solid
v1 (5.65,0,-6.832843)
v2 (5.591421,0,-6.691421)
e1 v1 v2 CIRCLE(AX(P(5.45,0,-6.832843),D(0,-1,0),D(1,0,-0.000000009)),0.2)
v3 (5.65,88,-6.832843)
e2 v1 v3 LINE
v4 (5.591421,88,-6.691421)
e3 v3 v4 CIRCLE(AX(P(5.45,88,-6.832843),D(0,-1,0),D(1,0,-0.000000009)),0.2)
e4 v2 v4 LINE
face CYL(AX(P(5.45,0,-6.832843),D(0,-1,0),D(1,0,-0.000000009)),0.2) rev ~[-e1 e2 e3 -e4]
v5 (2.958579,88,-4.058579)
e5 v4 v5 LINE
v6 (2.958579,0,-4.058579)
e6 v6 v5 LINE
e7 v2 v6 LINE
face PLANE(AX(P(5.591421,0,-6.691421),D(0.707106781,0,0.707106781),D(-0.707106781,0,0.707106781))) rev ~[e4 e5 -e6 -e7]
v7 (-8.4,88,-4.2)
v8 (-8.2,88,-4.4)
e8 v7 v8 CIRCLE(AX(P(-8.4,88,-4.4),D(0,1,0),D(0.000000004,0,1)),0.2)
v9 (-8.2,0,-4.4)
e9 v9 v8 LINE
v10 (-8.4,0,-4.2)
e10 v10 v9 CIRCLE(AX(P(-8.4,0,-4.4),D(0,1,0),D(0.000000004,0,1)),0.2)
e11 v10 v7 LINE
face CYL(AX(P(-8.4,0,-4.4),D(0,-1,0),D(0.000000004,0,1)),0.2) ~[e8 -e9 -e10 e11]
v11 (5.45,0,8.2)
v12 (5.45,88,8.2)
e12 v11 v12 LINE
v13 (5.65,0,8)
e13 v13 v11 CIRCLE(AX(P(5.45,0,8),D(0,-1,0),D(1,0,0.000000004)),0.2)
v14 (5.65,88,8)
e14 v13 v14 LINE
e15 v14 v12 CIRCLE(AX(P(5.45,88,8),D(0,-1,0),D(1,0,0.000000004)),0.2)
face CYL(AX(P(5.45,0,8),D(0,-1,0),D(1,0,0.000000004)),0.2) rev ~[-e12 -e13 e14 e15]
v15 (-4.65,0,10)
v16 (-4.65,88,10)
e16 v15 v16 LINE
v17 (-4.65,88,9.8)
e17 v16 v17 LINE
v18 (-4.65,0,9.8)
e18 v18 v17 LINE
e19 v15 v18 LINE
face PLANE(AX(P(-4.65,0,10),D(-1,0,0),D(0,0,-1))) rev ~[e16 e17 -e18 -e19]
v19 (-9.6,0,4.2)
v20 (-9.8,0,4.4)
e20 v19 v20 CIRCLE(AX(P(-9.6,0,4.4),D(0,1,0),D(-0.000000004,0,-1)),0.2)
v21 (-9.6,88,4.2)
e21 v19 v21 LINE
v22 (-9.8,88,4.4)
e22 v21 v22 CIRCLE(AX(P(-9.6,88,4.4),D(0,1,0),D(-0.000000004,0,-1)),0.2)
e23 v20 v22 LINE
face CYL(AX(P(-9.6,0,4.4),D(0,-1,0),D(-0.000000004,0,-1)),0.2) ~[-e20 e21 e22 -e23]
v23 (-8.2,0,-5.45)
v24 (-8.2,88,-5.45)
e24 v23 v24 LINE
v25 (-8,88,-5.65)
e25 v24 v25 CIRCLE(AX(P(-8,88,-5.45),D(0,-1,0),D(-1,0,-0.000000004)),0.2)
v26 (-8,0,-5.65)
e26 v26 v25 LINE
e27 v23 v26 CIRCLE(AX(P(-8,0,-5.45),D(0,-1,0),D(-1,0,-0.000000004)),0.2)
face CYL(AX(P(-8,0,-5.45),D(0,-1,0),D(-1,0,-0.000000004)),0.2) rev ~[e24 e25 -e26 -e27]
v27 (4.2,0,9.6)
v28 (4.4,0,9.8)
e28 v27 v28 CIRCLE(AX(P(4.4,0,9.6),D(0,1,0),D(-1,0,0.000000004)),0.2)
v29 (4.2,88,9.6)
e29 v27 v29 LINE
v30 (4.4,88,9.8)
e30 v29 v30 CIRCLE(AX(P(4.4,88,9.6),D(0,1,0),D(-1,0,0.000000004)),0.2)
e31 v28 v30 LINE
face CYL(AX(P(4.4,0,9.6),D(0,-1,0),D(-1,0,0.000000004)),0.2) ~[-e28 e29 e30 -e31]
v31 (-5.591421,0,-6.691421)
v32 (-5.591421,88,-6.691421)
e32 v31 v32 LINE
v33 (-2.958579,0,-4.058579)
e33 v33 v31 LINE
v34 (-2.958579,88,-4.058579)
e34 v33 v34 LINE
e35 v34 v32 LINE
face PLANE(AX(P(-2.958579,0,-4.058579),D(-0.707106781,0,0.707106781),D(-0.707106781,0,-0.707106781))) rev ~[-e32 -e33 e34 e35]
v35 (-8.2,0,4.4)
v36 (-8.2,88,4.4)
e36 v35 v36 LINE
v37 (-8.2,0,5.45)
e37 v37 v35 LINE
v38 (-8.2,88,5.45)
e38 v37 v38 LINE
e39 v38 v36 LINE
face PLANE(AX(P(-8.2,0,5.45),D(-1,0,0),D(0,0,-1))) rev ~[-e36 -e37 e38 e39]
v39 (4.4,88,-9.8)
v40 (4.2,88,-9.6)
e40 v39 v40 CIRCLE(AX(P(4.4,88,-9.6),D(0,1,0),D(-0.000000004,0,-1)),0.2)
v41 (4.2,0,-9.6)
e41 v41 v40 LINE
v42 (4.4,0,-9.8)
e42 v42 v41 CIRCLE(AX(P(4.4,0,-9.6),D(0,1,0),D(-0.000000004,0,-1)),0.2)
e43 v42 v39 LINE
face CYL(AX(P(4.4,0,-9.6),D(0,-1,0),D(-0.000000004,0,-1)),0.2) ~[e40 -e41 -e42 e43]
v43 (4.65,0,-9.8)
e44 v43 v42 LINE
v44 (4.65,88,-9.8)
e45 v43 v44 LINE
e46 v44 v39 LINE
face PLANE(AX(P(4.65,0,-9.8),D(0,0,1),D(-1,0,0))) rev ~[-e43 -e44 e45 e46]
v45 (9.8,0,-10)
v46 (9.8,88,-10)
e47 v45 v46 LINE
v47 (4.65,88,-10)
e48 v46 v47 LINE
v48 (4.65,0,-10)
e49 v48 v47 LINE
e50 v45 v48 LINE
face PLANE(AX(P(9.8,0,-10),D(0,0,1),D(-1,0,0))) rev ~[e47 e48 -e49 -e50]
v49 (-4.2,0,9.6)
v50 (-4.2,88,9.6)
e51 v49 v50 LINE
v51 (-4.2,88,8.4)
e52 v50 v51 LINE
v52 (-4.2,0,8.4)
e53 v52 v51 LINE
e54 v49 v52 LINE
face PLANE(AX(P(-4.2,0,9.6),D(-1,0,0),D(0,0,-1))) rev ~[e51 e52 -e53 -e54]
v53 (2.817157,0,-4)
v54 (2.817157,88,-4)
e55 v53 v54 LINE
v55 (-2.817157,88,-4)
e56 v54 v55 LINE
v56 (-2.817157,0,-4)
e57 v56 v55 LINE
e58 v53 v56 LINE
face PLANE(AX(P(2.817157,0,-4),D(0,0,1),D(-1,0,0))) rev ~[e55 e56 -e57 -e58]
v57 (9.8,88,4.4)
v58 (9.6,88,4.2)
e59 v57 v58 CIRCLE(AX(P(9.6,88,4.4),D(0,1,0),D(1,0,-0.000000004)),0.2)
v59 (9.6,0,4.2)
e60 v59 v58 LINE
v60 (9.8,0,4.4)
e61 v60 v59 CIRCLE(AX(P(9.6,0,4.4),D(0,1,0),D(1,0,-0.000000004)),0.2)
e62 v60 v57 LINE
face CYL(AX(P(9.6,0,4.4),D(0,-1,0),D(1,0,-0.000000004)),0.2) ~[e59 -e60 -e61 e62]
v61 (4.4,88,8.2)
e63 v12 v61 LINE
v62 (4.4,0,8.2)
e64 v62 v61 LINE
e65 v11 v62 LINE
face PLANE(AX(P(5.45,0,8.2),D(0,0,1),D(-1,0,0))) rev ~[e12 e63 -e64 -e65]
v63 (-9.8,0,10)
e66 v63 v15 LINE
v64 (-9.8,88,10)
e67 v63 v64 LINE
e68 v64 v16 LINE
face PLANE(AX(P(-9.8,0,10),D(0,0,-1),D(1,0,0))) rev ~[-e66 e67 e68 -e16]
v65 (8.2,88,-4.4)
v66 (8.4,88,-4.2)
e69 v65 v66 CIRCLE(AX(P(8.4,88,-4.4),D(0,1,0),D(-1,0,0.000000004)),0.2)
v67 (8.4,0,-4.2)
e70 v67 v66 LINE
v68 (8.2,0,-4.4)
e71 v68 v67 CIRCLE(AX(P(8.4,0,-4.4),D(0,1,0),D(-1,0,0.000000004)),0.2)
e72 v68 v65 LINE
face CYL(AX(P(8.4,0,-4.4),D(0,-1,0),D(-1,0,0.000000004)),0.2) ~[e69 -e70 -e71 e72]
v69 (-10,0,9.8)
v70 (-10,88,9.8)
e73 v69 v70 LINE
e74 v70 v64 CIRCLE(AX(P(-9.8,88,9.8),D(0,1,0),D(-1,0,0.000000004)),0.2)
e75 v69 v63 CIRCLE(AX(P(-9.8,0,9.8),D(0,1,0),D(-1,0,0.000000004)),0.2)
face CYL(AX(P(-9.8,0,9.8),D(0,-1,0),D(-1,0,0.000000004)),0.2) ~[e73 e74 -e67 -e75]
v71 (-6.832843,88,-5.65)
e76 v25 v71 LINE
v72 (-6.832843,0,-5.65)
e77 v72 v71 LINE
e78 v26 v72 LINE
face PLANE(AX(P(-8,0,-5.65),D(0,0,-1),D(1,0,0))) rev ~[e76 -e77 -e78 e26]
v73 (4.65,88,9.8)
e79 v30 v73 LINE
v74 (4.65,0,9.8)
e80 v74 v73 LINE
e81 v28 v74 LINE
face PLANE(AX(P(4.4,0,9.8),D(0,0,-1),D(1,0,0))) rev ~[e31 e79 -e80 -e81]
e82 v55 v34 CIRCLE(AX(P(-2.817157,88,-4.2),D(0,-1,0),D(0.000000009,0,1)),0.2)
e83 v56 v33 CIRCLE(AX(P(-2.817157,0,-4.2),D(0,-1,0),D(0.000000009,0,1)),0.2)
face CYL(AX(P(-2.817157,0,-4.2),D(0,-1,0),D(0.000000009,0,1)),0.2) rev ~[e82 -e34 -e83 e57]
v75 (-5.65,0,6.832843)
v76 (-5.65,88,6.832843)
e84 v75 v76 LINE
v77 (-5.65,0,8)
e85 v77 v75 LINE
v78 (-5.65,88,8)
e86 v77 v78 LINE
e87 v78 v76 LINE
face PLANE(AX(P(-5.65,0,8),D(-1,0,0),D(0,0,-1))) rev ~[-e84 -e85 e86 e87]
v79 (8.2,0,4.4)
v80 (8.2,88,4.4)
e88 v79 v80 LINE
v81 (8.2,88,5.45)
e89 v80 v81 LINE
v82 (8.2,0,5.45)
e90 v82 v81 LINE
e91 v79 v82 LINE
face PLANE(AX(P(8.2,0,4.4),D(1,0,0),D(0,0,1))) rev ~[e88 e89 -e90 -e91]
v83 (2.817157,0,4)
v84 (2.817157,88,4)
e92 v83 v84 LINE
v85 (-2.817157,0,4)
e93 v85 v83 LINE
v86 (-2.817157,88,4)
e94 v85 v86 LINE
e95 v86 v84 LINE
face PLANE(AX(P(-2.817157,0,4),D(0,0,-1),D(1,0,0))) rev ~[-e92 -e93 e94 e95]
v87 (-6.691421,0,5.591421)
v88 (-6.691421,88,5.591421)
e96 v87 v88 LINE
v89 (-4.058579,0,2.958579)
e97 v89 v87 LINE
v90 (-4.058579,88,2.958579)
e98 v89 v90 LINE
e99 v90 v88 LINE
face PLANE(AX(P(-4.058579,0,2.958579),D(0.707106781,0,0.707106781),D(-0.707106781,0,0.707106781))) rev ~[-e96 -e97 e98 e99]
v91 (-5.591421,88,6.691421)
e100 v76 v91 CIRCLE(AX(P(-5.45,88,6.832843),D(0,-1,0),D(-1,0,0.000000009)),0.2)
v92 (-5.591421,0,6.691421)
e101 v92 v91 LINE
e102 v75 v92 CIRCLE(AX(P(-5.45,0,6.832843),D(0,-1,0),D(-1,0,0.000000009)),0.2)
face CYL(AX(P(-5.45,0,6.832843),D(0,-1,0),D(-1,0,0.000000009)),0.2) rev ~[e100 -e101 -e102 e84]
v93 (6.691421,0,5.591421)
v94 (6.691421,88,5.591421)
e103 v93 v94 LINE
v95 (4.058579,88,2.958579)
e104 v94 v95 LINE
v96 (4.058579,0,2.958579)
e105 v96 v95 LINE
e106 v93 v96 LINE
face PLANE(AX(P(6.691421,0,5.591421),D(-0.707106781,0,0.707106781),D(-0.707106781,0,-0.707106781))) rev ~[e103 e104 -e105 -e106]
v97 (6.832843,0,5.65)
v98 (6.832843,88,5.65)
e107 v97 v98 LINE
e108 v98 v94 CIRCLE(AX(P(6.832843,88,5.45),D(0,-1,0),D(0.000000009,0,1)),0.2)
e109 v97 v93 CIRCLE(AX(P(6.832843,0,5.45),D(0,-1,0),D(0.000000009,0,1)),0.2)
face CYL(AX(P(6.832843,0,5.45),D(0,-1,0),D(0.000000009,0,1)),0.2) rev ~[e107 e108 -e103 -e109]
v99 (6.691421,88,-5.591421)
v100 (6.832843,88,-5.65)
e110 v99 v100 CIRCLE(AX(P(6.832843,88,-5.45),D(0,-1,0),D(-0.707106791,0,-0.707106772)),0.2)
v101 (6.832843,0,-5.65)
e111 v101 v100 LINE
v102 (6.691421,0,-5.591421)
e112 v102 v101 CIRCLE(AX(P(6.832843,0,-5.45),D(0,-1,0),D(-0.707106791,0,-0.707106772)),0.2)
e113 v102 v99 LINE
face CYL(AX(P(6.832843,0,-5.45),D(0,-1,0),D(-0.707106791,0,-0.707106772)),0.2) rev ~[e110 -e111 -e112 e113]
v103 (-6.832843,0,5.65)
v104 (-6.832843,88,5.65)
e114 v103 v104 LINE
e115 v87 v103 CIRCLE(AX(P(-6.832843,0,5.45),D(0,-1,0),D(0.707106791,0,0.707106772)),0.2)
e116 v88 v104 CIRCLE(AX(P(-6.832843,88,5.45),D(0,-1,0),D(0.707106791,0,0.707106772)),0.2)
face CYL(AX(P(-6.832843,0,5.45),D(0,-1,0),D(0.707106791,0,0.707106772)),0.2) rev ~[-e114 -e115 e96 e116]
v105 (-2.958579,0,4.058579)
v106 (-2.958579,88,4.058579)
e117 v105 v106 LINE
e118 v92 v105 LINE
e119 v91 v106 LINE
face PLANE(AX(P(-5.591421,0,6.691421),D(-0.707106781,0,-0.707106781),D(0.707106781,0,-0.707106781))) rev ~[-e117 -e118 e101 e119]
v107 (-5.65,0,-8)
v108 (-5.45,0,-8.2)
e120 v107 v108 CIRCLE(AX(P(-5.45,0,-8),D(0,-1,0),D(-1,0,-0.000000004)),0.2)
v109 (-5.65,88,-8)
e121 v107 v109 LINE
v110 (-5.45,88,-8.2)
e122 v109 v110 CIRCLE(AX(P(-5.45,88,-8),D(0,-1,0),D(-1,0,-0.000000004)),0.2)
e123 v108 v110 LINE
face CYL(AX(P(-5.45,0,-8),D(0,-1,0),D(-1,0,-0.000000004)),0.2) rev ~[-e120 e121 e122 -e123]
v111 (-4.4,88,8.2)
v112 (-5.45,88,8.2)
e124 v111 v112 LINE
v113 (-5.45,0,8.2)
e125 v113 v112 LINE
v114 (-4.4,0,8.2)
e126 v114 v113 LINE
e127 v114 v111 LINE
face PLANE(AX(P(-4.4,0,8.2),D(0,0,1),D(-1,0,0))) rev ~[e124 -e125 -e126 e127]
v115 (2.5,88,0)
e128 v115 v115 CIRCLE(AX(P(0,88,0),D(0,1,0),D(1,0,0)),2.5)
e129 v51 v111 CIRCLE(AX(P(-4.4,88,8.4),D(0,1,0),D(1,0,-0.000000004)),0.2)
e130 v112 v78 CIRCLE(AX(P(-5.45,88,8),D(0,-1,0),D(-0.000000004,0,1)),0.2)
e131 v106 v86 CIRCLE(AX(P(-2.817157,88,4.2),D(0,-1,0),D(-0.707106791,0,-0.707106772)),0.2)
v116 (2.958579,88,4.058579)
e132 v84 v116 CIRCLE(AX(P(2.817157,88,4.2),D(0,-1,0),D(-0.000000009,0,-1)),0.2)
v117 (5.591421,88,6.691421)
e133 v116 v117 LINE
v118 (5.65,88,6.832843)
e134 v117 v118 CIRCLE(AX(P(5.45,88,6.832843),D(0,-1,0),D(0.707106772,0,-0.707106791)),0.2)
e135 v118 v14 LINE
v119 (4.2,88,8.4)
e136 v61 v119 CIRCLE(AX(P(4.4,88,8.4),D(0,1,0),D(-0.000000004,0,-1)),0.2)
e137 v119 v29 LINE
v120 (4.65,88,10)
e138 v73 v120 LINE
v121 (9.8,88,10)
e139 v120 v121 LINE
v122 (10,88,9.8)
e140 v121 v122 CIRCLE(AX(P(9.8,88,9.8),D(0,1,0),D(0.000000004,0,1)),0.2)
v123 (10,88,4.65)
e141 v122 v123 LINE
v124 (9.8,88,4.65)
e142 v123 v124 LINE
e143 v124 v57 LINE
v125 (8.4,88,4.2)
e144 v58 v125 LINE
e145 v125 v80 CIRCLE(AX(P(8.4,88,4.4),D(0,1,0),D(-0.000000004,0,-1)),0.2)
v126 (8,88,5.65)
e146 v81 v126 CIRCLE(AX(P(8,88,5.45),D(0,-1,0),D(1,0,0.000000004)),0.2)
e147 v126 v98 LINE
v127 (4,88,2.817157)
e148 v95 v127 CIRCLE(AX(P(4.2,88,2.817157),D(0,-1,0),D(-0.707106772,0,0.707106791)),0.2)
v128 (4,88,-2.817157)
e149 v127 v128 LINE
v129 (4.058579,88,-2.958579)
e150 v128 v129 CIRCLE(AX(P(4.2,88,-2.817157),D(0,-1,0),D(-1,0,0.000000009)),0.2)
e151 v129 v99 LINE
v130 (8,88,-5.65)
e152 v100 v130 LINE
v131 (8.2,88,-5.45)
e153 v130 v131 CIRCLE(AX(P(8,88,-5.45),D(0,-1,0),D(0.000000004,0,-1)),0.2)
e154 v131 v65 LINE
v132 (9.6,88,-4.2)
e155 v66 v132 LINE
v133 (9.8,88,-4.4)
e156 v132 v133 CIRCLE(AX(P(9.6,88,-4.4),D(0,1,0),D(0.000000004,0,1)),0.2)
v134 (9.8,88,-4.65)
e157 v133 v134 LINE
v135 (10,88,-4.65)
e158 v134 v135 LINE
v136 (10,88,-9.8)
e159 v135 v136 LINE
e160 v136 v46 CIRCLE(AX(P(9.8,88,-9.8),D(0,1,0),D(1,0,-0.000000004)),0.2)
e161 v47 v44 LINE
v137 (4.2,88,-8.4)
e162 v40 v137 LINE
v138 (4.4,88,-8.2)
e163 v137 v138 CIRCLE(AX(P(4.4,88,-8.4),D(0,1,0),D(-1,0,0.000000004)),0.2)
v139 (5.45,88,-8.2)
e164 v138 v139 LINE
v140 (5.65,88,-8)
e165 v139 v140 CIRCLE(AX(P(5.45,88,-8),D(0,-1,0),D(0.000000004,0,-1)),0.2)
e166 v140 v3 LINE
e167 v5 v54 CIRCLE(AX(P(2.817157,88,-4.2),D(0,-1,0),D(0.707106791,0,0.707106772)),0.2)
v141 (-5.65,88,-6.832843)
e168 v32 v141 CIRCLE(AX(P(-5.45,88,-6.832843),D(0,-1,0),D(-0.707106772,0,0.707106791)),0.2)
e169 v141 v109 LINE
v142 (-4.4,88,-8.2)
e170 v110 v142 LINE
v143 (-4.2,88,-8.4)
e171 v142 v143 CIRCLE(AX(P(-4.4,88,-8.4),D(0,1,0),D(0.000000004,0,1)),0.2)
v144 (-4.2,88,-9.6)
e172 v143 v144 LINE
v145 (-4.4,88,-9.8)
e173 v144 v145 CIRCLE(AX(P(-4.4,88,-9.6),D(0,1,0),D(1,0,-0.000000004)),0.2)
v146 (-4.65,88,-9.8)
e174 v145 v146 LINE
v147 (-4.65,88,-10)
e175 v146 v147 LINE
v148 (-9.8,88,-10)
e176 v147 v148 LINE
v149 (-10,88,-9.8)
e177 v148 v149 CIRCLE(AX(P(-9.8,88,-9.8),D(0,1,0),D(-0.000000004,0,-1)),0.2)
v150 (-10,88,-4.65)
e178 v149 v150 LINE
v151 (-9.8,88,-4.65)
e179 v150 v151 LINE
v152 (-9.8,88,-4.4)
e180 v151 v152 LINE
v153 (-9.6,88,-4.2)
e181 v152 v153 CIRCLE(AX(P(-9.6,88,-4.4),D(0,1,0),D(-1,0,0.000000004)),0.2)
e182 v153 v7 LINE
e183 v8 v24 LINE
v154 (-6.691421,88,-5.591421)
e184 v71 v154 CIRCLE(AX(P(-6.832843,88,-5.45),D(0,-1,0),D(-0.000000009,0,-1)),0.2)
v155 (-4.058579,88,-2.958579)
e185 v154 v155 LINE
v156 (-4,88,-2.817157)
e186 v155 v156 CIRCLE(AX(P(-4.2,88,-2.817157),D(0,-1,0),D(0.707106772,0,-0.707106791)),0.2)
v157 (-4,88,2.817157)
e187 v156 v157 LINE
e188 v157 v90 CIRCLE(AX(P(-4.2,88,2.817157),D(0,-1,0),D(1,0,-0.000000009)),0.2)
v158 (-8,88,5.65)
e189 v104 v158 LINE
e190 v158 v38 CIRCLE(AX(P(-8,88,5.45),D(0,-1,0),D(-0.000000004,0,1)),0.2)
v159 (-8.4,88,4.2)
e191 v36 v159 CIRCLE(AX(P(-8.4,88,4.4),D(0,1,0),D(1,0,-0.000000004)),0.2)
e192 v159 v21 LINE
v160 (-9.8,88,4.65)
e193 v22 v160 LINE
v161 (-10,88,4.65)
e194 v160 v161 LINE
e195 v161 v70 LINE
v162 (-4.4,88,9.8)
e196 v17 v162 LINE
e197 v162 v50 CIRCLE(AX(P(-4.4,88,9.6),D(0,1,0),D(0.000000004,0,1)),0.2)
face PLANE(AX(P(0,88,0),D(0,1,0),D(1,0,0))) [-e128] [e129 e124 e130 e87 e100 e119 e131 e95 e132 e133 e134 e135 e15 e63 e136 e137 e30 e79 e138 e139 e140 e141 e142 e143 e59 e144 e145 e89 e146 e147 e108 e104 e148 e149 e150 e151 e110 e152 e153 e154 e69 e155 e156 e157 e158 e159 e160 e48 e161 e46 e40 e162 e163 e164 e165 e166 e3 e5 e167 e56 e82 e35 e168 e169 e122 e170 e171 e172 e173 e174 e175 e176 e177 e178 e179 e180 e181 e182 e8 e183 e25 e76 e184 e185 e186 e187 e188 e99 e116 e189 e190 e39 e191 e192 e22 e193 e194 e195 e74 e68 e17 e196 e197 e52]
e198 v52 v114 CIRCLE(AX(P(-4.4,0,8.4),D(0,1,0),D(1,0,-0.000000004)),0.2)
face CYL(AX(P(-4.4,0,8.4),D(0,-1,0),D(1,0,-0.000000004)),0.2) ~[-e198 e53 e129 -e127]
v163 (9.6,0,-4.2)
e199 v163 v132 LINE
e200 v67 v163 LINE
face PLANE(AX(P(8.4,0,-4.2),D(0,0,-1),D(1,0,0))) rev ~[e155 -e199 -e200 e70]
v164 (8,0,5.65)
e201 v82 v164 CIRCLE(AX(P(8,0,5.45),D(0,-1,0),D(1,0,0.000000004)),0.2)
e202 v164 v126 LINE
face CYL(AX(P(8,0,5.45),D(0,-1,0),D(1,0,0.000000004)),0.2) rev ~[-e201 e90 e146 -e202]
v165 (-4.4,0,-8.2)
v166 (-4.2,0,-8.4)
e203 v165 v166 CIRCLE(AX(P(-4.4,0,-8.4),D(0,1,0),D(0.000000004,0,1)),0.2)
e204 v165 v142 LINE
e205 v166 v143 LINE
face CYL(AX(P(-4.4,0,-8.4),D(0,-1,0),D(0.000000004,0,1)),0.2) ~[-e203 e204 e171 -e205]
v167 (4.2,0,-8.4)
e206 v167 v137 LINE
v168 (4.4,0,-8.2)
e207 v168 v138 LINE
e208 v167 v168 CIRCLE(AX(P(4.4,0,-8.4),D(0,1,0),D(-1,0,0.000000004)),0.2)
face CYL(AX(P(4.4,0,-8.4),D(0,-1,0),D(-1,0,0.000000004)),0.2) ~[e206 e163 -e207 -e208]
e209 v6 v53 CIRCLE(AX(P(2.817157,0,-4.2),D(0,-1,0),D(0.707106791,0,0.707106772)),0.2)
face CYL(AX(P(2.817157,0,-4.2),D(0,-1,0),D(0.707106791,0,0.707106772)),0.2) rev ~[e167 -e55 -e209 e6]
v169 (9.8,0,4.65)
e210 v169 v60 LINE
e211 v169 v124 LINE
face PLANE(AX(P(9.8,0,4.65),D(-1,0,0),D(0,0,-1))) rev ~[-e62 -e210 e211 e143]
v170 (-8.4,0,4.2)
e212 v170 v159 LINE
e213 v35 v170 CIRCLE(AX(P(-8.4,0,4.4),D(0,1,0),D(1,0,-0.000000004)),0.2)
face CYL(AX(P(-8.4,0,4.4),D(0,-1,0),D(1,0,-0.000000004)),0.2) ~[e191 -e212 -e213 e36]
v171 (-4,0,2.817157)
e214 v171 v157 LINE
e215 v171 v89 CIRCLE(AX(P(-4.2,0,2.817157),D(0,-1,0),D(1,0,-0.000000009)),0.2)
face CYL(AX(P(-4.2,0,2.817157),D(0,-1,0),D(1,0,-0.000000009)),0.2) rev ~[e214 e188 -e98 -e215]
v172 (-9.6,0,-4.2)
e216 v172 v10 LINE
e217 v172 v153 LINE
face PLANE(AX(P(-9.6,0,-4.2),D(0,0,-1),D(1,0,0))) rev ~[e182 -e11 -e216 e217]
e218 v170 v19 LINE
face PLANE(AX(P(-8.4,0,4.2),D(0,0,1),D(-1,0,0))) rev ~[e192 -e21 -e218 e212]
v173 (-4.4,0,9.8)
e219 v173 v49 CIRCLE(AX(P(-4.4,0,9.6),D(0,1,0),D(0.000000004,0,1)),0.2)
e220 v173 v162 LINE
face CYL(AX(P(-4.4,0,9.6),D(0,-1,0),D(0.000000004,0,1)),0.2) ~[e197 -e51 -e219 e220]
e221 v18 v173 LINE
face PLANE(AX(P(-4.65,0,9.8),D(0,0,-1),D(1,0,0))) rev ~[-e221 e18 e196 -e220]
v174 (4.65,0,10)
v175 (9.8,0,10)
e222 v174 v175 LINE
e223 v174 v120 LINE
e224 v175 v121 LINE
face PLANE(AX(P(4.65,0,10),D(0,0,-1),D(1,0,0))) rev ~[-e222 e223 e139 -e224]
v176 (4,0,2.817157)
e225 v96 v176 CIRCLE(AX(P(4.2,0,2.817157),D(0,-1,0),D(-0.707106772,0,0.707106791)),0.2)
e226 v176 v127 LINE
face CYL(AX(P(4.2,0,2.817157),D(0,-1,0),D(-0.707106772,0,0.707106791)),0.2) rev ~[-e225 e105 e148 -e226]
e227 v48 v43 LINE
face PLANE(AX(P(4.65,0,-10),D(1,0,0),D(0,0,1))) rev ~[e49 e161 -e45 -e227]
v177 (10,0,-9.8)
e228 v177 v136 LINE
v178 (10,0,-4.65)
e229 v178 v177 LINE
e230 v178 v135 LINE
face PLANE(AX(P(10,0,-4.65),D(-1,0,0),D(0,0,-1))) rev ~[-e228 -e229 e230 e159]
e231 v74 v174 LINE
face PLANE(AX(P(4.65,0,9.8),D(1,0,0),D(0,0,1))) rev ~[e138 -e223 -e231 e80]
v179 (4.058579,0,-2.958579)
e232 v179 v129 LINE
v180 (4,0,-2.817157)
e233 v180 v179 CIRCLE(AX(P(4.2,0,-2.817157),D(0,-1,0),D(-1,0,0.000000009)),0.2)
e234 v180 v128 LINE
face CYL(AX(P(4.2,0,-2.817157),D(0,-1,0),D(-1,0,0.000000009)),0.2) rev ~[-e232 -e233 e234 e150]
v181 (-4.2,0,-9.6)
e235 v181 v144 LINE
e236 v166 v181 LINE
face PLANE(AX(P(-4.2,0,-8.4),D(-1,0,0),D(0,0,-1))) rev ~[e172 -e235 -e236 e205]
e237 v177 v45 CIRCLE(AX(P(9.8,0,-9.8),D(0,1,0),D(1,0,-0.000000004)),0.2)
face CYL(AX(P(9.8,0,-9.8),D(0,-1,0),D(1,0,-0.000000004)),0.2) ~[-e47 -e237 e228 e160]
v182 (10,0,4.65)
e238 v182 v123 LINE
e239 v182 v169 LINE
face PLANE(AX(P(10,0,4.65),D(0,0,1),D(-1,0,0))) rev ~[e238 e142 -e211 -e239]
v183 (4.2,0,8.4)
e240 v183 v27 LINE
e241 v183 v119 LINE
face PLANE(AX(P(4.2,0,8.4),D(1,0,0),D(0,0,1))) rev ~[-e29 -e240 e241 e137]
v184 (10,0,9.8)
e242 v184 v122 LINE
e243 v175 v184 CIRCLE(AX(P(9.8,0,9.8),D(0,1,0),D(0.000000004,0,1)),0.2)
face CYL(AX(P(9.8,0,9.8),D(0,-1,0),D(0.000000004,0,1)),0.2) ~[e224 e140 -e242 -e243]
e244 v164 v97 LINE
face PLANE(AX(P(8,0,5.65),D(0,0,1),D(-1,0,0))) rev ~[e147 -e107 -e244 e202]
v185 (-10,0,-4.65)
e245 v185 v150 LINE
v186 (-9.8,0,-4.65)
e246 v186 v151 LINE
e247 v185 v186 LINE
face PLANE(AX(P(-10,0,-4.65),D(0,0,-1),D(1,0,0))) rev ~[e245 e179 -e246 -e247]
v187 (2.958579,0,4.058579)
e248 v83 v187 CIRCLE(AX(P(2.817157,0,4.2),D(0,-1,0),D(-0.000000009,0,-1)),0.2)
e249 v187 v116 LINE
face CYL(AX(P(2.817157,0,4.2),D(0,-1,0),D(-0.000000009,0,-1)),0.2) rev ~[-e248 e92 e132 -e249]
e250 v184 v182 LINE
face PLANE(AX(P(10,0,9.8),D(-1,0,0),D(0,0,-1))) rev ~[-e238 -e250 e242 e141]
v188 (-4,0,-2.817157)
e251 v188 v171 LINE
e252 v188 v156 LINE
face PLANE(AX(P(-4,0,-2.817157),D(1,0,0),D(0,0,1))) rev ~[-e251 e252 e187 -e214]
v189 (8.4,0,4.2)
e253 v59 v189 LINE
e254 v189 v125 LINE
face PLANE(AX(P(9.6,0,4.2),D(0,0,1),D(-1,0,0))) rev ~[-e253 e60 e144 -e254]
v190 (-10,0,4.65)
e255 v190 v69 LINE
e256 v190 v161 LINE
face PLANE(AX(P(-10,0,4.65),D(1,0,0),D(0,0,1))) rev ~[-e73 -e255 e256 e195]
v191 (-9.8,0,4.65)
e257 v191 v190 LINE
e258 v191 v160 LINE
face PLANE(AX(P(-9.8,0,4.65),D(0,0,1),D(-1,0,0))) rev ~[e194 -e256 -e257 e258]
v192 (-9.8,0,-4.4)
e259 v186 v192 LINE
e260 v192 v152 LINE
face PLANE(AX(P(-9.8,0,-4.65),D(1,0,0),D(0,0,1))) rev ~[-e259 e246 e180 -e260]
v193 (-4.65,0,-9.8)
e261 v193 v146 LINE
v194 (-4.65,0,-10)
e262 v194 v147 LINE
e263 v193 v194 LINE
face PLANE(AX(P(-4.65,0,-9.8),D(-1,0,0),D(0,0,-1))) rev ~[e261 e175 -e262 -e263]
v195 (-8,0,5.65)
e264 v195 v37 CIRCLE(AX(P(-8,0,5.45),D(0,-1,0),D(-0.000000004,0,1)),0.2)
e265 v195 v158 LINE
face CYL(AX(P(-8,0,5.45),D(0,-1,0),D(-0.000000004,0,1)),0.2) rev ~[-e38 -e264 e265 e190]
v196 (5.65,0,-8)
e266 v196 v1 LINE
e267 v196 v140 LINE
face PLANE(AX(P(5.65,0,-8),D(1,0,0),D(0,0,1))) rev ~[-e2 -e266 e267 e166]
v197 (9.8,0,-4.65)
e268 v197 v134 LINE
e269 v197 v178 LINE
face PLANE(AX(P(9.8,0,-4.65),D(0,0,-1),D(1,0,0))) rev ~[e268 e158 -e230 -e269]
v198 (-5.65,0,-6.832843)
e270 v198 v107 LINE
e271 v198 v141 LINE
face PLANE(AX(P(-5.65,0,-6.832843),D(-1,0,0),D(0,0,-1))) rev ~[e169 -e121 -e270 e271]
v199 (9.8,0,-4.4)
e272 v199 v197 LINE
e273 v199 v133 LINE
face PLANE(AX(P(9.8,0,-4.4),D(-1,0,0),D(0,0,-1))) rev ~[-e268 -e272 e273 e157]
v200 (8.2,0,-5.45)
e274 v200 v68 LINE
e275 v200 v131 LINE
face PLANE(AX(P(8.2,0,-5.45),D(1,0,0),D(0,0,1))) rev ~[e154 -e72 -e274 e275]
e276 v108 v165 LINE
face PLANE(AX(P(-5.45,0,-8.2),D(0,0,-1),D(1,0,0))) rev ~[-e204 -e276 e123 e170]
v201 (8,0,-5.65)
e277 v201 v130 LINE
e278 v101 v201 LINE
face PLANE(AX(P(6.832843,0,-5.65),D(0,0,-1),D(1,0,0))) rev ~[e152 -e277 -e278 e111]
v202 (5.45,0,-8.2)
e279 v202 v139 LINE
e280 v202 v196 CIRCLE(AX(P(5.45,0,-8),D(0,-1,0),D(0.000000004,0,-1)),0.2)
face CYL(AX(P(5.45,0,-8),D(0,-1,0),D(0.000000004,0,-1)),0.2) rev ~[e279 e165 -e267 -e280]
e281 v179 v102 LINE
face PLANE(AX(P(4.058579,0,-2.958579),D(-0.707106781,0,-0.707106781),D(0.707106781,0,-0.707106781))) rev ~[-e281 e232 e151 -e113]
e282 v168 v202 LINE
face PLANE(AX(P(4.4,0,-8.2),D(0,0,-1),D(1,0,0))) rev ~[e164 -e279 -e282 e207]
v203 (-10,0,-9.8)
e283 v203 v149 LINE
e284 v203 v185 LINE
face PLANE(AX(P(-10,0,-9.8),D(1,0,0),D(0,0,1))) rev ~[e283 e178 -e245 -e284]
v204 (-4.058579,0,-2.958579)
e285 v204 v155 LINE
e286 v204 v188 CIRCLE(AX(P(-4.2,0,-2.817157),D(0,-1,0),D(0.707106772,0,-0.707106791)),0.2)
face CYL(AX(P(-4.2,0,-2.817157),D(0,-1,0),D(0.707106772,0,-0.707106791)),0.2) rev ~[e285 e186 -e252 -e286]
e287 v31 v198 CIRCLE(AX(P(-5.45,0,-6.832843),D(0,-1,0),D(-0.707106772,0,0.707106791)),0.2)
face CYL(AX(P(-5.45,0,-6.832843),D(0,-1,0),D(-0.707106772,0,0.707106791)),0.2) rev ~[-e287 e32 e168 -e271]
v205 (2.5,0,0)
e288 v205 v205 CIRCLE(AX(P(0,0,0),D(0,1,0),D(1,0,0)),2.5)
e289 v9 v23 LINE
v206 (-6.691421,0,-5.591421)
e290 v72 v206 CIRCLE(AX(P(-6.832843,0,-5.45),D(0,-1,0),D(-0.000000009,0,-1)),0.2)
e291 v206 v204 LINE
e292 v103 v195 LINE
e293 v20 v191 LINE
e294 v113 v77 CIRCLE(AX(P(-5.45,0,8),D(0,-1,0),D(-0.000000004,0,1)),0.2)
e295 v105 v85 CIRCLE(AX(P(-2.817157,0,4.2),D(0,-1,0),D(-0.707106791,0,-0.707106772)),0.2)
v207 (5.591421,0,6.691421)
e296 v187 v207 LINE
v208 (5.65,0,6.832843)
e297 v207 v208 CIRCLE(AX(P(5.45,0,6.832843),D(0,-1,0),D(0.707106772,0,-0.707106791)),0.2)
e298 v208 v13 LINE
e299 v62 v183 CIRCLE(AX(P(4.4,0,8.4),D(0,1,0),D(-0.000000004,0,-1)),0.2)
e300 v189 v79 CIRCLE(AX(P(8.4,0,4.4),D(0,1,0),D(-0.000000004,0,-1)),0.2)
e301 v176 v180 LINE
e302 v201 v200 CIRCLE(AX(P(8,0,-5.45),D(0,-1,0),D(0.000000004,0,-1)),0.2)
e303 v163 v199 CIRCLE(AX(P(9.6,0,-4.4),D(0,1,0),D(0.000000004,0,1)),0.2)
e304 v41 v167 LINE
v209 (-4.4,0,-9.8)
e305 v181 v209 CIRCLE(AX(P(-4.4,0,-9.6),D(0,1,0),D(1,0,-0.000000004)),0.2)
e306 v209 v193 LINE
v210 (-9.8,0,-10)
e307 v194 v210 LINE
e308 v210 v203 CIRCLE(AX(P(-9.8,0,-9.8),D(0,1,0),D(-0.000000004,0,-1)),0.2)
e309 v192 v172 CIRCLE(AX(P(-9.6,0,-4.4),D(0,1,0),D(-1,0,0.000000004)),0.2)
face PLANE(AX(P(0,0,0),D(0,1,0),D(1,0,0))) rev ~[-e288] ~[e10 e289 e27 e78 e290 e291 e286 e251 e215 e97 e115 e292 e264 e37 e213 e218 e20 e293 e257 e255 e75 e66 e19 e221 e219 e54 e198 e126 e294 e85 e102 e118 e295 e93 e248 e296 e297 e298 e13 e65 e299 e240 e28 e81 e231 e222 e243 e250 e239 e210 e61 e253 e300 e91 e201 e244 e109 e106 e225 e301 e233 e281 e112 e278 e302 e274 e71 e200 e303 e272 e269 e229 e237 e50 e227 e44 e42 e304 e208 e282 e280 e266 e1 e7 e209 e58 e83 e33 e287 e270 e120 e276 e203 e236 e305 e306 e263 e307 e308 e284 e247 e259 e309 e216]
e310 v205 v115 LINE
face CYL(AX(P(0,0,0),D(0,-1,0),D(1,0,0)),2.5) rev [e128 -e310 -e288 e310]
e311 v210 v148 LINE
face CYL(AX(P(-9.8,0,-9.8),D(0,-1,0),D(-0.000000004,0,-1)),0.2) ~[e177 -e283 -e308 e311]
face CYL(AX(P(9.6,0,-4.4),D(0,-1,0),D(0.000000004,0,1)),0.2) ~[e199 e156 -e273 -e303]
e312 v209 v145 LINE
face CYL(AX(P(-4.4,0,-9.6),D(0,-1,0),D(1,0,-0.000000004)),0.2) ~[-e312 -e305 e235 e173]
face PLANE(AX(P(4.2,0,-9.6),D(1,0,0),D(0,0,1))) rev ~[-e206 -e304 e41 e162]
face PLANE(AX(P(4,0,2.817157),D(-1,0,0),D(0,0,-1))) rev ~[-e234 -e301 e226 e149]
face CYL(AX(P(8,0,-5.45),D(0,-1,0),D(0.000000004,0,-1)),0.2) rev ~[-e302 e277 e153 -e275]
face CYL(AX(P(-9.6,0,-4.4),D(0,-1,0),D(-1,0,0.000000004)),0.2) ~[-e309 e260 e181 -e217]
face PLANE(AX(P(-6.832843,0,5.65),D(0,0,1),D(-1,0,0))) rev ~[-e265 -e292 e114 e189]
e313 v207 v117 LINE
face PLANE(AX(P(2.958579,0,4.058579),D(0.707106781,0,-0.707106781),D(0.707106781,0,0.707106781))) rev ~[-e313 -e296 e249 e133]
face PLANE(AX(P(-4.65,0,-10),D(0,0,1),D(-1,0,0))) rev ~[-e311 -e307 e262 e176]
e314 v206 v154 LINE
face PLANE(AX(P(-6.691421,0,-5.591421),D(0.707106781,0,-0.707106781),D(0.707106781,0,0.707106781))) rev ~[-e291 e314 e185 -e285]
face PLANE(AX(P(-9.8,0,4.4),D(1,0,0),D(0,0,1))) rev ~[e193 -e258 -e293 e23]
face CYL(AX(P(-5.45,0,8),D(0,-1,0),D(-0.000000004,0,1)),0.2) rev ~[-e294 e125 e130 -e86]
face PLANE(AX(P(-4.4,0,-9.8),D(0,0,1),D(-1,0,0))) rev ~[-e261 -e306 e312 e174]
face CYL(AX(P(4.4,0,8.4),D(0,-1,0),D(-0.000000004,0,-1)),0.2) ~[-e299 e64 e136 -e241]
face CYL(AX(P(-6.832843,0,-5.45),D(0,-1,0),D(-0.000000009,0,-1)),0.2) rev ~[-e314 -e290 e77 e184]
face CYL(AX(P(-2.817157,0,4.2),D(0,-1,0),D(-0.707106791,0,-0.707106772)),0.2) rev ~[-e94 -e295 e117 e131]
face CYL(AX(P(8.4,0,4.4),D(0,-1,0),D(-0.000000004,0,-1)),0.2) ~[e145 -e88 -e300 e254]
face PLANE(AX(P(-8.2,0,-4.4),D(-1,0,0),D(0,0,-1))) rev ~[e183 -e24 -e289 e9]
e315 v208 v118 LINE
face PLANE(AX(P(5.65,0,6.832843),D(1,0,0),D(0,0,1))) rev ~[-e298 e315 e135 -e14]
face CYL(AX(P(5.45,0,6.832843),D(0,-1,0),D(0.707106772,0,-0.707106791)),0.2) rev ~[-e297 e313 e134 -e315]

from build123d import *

# Parameters (mm, degrees)
SKETCH1_R           = 2.5
BOSS_EXTRUDE1_DEPTH = 88


with BuildPart() as part:
    # Sketch1 → Boss-Extrude1 (new body)
    with BuildSketch(Plane(origin=(0, 0, 0), x_dir=(1, 0, 0), z_dir=(0, 1, 0))):
        with BuildLine():
            Line((-10, 4.65), (-9.8, 4.65))
            Line((-9.8, 4.65), (-9.8, 4.4))
            ThreePointArc((-9.8, 4.4), (-9.741421356, 4.258578644), (-9.6, 4.2))
            Line((-9.6, 4.2), (-8.4, 4.2))
            ThreePointArc((-8.4, 4.2), (-8.258578644, 4.258578644), (-8.2, 4.4))
            Line((-8.2, 4.4), (-8.2, 5.45))
            ThreePointArc((-8.2, 5.45), (-8.141421356, 5.591421356), (-8, 5.65))
            Line((-8, 5.65), (-6.832842712, 5.65))
            ThreePointArc((-6.832842712, 5.65), (-6.756306026, 5.634775907), (-6.691421356, 5.591421356))
            Line((-6.691421356, 5.591421356), (-4.058578644, 2.958578644))
            ThreePointArc((-4.058578644, 2.958578644), (-4.015224093, 2.893693974), (-4, 2.817157288))
            Line((-4, 2.817157288), (-4, -2.817157288))
            ThreePointArc((-4, -2.817157288), (-4.015224093, -2.893693974), (-4.058578644, -2.958578644))
            Line((-4.058578644, -2.958578644), (-6.691421356, -5.591421356))
            ThreePointArc((-6.691421356, -5.591421356), (-6.756306026, -5.634775907), (-6.832842712, -5.65))
            Line((-6.832842712, -5.65), (-8, -5.65))
            ThreePointArc((-8, -5.65), (-8.141421356, -5.591421356), (-8.2, -5.45))
            Line((-8.2, -5.45), (-8.2, -4.4))
            ThreePointArc((-8.2, -4.4), (-8.258578644, -4.258578644), (-8.4, -4.2))
            Line((-8.4, -4.2), (-9.6, -4.2))
            ThreePointArc((-9.6, -4.2), (-9.741421356, -4.258578644), (-9.8, -4.4))
            Line((-9.8, -4.4), (-9.8, -4.65))
            Line((-9.8, -4.65), (-10, -4.65))
            Line((-10, -4.65), (-10, -9.8))
            ThreePointArc((-10, -9.8), (-9.941421356, -9.941421356), (-9.8, -10))
            Line((-9.8, -10), (-4.65, -10))
            Line((-4.65, -10), (-4.65, -9.8))
            Line((-4.65, -9.8), (-4.4, -9.8))
            ThreePointArc((-4.4, -9.8), (-4.258578644, -9.741421356), (-4.2, -9.6))
            Line((-4.2, -9.6), (-4.2, -8.4))
            ThreePointArc((-4.2, -8.4), (-4.258578644, -8.258578644), (-4.4, -8.2))
            Line((-4.4, -8.2), (-5.45, -8.2))
            ThreePointArc((-5.45, -8.2), (-5.591421356, -8.141421356), (-5.65, -8))
            Line((-5.65, -8), (-5.65, -6.832842712))
            ThreePointArc((-5.65, -6.832842712), (-5.634775907, -6.756306026), (-5.591421356, -6.691421356))
            Line((-5.591421356, -6.691421356), (-2.958578644, -4.058578644))
            ThreePointArc((-2.958578644, -4.058578644), (-2.893693974, -4.015224093), (-2.817157288, -4))
            Line((-2.817157288, -4), (2.817157288, -4))
            ThreePointArc((2.817157288, -4), (2.893693974, -4.015224093), (2.958578644, -4.058578644))
            Line((2.958578644, -4.058578644), (5.591421356, -6.691421356))
            ThreePointArc((5.591421356, -6.691421356), (5.634775907, -6.756306026), (5.65, -6.832842712))
            Line((5.65, -6.832842712), (5.65, -8))
            ThreePointArc((5.65, -8), (5.591421356, -8.141421356), (5.45, -8.2))
            Line((5.45, -8.2), (4.4, -8.2))
            ThreePointArc((4.4, -8.2), (4.258578644, -8.258578644), (4.2, -8.4))
            Line((4.2, -8.4), (4.2, -9.6))
            ThreePointArc((4.2, -9.6), (4.258578644, -9.741421356), (4.4, -9.8))
            Line((4.4, -9.8), (4.65, -9.8))
            Line((4.65, -9.8), (4.65, -10))
            Line((4.65, -10), (9.8, -10))
            ThreePointArc((9.8, -10), (9.941421356, -9.941421356), (10, -9.8))
            Line((10, -9.8), (10, -4.65))
            Line((10, -4.65), (9.8, -4.65))
            Line((9.8, -4.65), (9.8, -4.4))
            ThreePointArc((9.8, -4.4), (9.741421356, -4.258578644), (9.6, -4.2))
            Line((9.6, -4.2), (8.4, -4.2))
            ThreePointArc((8.4, -4.2), (8.258578644, -4.258578644), (8.2, -4.4))
            Line((8.2, -4.4), (8.2, -5.45))
            ThreePointArc((8.2, -5.45), (8.141421356, -5.591421356), (8, -5.65))
            Line((8, -5.65), (6.832842712, -5.65))
            ThreePointArc((6.832842712, -5.65), (6.756306026, -5.634775907), (6.691421356, -5.591421356))
            Line((6.691421356, -5.591421356), (4.058578644, -2.958578644))
            ThreePointArc((4.058578644, -2.958578644), (4.015224093, -2.893693974), (4, -2.817157288))
            Line((4, -2.817157288), (4, 2.817157288))
            ThreePointArc((4, 2.817157288), (4.015224093, 2.893693974), (4.058578644, 2.958578644))
            Line((4.058578644, 2.958578644), (6.691421356, 5.591421356))
            ThreePointArc((6.691421356, 5.591421356), (6.756306026, 5.634775907), (6.832842712, 5.65))
            Line((6.832842712, 5.65), (8, 5.65))
            ThreePointArc((8, 5.65), (8.141421356, 5.591421356), (8.2, 5.45))
            Line((8.2, 5.45), (8.2, 4.4))
            ThreePointArc((8.2, 4.4), (8.258578644, 4.258578644), (8.4, 4.2))
            Line((8.4, 4.2), (9.6, 4.2))
            ThreePointArc((9.6, 4.2), (9.741421356, 4.258578644), (9.8, 4.4))
            Line((9.8, 4.4), (9.8, 4.65))
            Line((9.8, 4.65), (10, 4.65))
            Line((10, 4.65), (10, 9.8))
            ThreePointArc((10, 9.8), (9.941421356, 9.941421356), (9.8, 10))
            Line((9.8, 10), (4.65, 10))
            Line((4.65, 10), (4.65, 9.8))
            Line((4.65, 9.8), (4.4, 9.8))
            ThreePointArc((4.4, 9.8), (4.258578644, 9.741421356), (4.2, 9.6))
            Line((4.2, 9.6), (4.2, 8.4))
            ThreePointArc((4.2, 8.4), (4.258578644, 8.258578644), (4.4, 8.2))
            Line((4.4, 8.2), (5.45, 8.2))
            ThreePointArc((5.45, 8.2), (5.591421356, 8.141421356), (5.65, 8))
            Line((5.65, 8), (5.65, 6.832842712))
            ThreePointArc((5.65, 6.832842712), (5.634775907, 6.756306026), (5.591421356, 6.691421356))
            Line((5.591421356, 6.691421356), (2.958578644, 4.058578644))
            ThreePointArc((2.958578644, 4.058578644), (2.893693974, 4.015224093), (2.817157288, 4))
            Line((2.817157288, 4), (-2.817157288, 4))
            ThreePointArc((-2.817157288, 4), (-2.893693974, 4.015224093), (-2.958578644, 4.058578644))
            Line((-2.958578644, 4.058578644), (-5.591421356, 6.691421356))
            ThreePointArc((-5.591421356, 6.691421356), (-5.634775907, 6.756306026), (-5.65, 6.832842712))
            Line((-5.65, 6.832842712), (-5.65, 8))
            ThreePointArc((-5.65, 8), (-5.591421356, 8.141421356), (-5.45, 8.2))
            Line((-5.45, 8.2), (-4.4, 8.2))
            ThreePointArc((-4.4, 8.2), (-4.258578644, 8.258578644), (-4.2, 8.4))
            Line((-4.2, 8.4), (-4.2, 9.6))
            ThreePointArc((-4.2, 9.6), (-4.258578644, 9.741421356), (-4.4, 9.8))
            Line((-4.4, 9.8), (-4.65, 9.8))
            Line((-4.65, 9.8), (-4.65, 10))
            Line((-4.65, 10), (-9.8, 10))
            ThreePointArc((-9.8, 10), (-9.941421356, 9.941421356), (-10, 9.8))
            Line((-10, 9.8), (-10, 4.65))
        make_face()
        Circle(SKETCH1_R, mode=Mode.SUBTRACT)
    extrude(amount=BOSS_EXTRUDE1_DEPTH)


solid = part.part
